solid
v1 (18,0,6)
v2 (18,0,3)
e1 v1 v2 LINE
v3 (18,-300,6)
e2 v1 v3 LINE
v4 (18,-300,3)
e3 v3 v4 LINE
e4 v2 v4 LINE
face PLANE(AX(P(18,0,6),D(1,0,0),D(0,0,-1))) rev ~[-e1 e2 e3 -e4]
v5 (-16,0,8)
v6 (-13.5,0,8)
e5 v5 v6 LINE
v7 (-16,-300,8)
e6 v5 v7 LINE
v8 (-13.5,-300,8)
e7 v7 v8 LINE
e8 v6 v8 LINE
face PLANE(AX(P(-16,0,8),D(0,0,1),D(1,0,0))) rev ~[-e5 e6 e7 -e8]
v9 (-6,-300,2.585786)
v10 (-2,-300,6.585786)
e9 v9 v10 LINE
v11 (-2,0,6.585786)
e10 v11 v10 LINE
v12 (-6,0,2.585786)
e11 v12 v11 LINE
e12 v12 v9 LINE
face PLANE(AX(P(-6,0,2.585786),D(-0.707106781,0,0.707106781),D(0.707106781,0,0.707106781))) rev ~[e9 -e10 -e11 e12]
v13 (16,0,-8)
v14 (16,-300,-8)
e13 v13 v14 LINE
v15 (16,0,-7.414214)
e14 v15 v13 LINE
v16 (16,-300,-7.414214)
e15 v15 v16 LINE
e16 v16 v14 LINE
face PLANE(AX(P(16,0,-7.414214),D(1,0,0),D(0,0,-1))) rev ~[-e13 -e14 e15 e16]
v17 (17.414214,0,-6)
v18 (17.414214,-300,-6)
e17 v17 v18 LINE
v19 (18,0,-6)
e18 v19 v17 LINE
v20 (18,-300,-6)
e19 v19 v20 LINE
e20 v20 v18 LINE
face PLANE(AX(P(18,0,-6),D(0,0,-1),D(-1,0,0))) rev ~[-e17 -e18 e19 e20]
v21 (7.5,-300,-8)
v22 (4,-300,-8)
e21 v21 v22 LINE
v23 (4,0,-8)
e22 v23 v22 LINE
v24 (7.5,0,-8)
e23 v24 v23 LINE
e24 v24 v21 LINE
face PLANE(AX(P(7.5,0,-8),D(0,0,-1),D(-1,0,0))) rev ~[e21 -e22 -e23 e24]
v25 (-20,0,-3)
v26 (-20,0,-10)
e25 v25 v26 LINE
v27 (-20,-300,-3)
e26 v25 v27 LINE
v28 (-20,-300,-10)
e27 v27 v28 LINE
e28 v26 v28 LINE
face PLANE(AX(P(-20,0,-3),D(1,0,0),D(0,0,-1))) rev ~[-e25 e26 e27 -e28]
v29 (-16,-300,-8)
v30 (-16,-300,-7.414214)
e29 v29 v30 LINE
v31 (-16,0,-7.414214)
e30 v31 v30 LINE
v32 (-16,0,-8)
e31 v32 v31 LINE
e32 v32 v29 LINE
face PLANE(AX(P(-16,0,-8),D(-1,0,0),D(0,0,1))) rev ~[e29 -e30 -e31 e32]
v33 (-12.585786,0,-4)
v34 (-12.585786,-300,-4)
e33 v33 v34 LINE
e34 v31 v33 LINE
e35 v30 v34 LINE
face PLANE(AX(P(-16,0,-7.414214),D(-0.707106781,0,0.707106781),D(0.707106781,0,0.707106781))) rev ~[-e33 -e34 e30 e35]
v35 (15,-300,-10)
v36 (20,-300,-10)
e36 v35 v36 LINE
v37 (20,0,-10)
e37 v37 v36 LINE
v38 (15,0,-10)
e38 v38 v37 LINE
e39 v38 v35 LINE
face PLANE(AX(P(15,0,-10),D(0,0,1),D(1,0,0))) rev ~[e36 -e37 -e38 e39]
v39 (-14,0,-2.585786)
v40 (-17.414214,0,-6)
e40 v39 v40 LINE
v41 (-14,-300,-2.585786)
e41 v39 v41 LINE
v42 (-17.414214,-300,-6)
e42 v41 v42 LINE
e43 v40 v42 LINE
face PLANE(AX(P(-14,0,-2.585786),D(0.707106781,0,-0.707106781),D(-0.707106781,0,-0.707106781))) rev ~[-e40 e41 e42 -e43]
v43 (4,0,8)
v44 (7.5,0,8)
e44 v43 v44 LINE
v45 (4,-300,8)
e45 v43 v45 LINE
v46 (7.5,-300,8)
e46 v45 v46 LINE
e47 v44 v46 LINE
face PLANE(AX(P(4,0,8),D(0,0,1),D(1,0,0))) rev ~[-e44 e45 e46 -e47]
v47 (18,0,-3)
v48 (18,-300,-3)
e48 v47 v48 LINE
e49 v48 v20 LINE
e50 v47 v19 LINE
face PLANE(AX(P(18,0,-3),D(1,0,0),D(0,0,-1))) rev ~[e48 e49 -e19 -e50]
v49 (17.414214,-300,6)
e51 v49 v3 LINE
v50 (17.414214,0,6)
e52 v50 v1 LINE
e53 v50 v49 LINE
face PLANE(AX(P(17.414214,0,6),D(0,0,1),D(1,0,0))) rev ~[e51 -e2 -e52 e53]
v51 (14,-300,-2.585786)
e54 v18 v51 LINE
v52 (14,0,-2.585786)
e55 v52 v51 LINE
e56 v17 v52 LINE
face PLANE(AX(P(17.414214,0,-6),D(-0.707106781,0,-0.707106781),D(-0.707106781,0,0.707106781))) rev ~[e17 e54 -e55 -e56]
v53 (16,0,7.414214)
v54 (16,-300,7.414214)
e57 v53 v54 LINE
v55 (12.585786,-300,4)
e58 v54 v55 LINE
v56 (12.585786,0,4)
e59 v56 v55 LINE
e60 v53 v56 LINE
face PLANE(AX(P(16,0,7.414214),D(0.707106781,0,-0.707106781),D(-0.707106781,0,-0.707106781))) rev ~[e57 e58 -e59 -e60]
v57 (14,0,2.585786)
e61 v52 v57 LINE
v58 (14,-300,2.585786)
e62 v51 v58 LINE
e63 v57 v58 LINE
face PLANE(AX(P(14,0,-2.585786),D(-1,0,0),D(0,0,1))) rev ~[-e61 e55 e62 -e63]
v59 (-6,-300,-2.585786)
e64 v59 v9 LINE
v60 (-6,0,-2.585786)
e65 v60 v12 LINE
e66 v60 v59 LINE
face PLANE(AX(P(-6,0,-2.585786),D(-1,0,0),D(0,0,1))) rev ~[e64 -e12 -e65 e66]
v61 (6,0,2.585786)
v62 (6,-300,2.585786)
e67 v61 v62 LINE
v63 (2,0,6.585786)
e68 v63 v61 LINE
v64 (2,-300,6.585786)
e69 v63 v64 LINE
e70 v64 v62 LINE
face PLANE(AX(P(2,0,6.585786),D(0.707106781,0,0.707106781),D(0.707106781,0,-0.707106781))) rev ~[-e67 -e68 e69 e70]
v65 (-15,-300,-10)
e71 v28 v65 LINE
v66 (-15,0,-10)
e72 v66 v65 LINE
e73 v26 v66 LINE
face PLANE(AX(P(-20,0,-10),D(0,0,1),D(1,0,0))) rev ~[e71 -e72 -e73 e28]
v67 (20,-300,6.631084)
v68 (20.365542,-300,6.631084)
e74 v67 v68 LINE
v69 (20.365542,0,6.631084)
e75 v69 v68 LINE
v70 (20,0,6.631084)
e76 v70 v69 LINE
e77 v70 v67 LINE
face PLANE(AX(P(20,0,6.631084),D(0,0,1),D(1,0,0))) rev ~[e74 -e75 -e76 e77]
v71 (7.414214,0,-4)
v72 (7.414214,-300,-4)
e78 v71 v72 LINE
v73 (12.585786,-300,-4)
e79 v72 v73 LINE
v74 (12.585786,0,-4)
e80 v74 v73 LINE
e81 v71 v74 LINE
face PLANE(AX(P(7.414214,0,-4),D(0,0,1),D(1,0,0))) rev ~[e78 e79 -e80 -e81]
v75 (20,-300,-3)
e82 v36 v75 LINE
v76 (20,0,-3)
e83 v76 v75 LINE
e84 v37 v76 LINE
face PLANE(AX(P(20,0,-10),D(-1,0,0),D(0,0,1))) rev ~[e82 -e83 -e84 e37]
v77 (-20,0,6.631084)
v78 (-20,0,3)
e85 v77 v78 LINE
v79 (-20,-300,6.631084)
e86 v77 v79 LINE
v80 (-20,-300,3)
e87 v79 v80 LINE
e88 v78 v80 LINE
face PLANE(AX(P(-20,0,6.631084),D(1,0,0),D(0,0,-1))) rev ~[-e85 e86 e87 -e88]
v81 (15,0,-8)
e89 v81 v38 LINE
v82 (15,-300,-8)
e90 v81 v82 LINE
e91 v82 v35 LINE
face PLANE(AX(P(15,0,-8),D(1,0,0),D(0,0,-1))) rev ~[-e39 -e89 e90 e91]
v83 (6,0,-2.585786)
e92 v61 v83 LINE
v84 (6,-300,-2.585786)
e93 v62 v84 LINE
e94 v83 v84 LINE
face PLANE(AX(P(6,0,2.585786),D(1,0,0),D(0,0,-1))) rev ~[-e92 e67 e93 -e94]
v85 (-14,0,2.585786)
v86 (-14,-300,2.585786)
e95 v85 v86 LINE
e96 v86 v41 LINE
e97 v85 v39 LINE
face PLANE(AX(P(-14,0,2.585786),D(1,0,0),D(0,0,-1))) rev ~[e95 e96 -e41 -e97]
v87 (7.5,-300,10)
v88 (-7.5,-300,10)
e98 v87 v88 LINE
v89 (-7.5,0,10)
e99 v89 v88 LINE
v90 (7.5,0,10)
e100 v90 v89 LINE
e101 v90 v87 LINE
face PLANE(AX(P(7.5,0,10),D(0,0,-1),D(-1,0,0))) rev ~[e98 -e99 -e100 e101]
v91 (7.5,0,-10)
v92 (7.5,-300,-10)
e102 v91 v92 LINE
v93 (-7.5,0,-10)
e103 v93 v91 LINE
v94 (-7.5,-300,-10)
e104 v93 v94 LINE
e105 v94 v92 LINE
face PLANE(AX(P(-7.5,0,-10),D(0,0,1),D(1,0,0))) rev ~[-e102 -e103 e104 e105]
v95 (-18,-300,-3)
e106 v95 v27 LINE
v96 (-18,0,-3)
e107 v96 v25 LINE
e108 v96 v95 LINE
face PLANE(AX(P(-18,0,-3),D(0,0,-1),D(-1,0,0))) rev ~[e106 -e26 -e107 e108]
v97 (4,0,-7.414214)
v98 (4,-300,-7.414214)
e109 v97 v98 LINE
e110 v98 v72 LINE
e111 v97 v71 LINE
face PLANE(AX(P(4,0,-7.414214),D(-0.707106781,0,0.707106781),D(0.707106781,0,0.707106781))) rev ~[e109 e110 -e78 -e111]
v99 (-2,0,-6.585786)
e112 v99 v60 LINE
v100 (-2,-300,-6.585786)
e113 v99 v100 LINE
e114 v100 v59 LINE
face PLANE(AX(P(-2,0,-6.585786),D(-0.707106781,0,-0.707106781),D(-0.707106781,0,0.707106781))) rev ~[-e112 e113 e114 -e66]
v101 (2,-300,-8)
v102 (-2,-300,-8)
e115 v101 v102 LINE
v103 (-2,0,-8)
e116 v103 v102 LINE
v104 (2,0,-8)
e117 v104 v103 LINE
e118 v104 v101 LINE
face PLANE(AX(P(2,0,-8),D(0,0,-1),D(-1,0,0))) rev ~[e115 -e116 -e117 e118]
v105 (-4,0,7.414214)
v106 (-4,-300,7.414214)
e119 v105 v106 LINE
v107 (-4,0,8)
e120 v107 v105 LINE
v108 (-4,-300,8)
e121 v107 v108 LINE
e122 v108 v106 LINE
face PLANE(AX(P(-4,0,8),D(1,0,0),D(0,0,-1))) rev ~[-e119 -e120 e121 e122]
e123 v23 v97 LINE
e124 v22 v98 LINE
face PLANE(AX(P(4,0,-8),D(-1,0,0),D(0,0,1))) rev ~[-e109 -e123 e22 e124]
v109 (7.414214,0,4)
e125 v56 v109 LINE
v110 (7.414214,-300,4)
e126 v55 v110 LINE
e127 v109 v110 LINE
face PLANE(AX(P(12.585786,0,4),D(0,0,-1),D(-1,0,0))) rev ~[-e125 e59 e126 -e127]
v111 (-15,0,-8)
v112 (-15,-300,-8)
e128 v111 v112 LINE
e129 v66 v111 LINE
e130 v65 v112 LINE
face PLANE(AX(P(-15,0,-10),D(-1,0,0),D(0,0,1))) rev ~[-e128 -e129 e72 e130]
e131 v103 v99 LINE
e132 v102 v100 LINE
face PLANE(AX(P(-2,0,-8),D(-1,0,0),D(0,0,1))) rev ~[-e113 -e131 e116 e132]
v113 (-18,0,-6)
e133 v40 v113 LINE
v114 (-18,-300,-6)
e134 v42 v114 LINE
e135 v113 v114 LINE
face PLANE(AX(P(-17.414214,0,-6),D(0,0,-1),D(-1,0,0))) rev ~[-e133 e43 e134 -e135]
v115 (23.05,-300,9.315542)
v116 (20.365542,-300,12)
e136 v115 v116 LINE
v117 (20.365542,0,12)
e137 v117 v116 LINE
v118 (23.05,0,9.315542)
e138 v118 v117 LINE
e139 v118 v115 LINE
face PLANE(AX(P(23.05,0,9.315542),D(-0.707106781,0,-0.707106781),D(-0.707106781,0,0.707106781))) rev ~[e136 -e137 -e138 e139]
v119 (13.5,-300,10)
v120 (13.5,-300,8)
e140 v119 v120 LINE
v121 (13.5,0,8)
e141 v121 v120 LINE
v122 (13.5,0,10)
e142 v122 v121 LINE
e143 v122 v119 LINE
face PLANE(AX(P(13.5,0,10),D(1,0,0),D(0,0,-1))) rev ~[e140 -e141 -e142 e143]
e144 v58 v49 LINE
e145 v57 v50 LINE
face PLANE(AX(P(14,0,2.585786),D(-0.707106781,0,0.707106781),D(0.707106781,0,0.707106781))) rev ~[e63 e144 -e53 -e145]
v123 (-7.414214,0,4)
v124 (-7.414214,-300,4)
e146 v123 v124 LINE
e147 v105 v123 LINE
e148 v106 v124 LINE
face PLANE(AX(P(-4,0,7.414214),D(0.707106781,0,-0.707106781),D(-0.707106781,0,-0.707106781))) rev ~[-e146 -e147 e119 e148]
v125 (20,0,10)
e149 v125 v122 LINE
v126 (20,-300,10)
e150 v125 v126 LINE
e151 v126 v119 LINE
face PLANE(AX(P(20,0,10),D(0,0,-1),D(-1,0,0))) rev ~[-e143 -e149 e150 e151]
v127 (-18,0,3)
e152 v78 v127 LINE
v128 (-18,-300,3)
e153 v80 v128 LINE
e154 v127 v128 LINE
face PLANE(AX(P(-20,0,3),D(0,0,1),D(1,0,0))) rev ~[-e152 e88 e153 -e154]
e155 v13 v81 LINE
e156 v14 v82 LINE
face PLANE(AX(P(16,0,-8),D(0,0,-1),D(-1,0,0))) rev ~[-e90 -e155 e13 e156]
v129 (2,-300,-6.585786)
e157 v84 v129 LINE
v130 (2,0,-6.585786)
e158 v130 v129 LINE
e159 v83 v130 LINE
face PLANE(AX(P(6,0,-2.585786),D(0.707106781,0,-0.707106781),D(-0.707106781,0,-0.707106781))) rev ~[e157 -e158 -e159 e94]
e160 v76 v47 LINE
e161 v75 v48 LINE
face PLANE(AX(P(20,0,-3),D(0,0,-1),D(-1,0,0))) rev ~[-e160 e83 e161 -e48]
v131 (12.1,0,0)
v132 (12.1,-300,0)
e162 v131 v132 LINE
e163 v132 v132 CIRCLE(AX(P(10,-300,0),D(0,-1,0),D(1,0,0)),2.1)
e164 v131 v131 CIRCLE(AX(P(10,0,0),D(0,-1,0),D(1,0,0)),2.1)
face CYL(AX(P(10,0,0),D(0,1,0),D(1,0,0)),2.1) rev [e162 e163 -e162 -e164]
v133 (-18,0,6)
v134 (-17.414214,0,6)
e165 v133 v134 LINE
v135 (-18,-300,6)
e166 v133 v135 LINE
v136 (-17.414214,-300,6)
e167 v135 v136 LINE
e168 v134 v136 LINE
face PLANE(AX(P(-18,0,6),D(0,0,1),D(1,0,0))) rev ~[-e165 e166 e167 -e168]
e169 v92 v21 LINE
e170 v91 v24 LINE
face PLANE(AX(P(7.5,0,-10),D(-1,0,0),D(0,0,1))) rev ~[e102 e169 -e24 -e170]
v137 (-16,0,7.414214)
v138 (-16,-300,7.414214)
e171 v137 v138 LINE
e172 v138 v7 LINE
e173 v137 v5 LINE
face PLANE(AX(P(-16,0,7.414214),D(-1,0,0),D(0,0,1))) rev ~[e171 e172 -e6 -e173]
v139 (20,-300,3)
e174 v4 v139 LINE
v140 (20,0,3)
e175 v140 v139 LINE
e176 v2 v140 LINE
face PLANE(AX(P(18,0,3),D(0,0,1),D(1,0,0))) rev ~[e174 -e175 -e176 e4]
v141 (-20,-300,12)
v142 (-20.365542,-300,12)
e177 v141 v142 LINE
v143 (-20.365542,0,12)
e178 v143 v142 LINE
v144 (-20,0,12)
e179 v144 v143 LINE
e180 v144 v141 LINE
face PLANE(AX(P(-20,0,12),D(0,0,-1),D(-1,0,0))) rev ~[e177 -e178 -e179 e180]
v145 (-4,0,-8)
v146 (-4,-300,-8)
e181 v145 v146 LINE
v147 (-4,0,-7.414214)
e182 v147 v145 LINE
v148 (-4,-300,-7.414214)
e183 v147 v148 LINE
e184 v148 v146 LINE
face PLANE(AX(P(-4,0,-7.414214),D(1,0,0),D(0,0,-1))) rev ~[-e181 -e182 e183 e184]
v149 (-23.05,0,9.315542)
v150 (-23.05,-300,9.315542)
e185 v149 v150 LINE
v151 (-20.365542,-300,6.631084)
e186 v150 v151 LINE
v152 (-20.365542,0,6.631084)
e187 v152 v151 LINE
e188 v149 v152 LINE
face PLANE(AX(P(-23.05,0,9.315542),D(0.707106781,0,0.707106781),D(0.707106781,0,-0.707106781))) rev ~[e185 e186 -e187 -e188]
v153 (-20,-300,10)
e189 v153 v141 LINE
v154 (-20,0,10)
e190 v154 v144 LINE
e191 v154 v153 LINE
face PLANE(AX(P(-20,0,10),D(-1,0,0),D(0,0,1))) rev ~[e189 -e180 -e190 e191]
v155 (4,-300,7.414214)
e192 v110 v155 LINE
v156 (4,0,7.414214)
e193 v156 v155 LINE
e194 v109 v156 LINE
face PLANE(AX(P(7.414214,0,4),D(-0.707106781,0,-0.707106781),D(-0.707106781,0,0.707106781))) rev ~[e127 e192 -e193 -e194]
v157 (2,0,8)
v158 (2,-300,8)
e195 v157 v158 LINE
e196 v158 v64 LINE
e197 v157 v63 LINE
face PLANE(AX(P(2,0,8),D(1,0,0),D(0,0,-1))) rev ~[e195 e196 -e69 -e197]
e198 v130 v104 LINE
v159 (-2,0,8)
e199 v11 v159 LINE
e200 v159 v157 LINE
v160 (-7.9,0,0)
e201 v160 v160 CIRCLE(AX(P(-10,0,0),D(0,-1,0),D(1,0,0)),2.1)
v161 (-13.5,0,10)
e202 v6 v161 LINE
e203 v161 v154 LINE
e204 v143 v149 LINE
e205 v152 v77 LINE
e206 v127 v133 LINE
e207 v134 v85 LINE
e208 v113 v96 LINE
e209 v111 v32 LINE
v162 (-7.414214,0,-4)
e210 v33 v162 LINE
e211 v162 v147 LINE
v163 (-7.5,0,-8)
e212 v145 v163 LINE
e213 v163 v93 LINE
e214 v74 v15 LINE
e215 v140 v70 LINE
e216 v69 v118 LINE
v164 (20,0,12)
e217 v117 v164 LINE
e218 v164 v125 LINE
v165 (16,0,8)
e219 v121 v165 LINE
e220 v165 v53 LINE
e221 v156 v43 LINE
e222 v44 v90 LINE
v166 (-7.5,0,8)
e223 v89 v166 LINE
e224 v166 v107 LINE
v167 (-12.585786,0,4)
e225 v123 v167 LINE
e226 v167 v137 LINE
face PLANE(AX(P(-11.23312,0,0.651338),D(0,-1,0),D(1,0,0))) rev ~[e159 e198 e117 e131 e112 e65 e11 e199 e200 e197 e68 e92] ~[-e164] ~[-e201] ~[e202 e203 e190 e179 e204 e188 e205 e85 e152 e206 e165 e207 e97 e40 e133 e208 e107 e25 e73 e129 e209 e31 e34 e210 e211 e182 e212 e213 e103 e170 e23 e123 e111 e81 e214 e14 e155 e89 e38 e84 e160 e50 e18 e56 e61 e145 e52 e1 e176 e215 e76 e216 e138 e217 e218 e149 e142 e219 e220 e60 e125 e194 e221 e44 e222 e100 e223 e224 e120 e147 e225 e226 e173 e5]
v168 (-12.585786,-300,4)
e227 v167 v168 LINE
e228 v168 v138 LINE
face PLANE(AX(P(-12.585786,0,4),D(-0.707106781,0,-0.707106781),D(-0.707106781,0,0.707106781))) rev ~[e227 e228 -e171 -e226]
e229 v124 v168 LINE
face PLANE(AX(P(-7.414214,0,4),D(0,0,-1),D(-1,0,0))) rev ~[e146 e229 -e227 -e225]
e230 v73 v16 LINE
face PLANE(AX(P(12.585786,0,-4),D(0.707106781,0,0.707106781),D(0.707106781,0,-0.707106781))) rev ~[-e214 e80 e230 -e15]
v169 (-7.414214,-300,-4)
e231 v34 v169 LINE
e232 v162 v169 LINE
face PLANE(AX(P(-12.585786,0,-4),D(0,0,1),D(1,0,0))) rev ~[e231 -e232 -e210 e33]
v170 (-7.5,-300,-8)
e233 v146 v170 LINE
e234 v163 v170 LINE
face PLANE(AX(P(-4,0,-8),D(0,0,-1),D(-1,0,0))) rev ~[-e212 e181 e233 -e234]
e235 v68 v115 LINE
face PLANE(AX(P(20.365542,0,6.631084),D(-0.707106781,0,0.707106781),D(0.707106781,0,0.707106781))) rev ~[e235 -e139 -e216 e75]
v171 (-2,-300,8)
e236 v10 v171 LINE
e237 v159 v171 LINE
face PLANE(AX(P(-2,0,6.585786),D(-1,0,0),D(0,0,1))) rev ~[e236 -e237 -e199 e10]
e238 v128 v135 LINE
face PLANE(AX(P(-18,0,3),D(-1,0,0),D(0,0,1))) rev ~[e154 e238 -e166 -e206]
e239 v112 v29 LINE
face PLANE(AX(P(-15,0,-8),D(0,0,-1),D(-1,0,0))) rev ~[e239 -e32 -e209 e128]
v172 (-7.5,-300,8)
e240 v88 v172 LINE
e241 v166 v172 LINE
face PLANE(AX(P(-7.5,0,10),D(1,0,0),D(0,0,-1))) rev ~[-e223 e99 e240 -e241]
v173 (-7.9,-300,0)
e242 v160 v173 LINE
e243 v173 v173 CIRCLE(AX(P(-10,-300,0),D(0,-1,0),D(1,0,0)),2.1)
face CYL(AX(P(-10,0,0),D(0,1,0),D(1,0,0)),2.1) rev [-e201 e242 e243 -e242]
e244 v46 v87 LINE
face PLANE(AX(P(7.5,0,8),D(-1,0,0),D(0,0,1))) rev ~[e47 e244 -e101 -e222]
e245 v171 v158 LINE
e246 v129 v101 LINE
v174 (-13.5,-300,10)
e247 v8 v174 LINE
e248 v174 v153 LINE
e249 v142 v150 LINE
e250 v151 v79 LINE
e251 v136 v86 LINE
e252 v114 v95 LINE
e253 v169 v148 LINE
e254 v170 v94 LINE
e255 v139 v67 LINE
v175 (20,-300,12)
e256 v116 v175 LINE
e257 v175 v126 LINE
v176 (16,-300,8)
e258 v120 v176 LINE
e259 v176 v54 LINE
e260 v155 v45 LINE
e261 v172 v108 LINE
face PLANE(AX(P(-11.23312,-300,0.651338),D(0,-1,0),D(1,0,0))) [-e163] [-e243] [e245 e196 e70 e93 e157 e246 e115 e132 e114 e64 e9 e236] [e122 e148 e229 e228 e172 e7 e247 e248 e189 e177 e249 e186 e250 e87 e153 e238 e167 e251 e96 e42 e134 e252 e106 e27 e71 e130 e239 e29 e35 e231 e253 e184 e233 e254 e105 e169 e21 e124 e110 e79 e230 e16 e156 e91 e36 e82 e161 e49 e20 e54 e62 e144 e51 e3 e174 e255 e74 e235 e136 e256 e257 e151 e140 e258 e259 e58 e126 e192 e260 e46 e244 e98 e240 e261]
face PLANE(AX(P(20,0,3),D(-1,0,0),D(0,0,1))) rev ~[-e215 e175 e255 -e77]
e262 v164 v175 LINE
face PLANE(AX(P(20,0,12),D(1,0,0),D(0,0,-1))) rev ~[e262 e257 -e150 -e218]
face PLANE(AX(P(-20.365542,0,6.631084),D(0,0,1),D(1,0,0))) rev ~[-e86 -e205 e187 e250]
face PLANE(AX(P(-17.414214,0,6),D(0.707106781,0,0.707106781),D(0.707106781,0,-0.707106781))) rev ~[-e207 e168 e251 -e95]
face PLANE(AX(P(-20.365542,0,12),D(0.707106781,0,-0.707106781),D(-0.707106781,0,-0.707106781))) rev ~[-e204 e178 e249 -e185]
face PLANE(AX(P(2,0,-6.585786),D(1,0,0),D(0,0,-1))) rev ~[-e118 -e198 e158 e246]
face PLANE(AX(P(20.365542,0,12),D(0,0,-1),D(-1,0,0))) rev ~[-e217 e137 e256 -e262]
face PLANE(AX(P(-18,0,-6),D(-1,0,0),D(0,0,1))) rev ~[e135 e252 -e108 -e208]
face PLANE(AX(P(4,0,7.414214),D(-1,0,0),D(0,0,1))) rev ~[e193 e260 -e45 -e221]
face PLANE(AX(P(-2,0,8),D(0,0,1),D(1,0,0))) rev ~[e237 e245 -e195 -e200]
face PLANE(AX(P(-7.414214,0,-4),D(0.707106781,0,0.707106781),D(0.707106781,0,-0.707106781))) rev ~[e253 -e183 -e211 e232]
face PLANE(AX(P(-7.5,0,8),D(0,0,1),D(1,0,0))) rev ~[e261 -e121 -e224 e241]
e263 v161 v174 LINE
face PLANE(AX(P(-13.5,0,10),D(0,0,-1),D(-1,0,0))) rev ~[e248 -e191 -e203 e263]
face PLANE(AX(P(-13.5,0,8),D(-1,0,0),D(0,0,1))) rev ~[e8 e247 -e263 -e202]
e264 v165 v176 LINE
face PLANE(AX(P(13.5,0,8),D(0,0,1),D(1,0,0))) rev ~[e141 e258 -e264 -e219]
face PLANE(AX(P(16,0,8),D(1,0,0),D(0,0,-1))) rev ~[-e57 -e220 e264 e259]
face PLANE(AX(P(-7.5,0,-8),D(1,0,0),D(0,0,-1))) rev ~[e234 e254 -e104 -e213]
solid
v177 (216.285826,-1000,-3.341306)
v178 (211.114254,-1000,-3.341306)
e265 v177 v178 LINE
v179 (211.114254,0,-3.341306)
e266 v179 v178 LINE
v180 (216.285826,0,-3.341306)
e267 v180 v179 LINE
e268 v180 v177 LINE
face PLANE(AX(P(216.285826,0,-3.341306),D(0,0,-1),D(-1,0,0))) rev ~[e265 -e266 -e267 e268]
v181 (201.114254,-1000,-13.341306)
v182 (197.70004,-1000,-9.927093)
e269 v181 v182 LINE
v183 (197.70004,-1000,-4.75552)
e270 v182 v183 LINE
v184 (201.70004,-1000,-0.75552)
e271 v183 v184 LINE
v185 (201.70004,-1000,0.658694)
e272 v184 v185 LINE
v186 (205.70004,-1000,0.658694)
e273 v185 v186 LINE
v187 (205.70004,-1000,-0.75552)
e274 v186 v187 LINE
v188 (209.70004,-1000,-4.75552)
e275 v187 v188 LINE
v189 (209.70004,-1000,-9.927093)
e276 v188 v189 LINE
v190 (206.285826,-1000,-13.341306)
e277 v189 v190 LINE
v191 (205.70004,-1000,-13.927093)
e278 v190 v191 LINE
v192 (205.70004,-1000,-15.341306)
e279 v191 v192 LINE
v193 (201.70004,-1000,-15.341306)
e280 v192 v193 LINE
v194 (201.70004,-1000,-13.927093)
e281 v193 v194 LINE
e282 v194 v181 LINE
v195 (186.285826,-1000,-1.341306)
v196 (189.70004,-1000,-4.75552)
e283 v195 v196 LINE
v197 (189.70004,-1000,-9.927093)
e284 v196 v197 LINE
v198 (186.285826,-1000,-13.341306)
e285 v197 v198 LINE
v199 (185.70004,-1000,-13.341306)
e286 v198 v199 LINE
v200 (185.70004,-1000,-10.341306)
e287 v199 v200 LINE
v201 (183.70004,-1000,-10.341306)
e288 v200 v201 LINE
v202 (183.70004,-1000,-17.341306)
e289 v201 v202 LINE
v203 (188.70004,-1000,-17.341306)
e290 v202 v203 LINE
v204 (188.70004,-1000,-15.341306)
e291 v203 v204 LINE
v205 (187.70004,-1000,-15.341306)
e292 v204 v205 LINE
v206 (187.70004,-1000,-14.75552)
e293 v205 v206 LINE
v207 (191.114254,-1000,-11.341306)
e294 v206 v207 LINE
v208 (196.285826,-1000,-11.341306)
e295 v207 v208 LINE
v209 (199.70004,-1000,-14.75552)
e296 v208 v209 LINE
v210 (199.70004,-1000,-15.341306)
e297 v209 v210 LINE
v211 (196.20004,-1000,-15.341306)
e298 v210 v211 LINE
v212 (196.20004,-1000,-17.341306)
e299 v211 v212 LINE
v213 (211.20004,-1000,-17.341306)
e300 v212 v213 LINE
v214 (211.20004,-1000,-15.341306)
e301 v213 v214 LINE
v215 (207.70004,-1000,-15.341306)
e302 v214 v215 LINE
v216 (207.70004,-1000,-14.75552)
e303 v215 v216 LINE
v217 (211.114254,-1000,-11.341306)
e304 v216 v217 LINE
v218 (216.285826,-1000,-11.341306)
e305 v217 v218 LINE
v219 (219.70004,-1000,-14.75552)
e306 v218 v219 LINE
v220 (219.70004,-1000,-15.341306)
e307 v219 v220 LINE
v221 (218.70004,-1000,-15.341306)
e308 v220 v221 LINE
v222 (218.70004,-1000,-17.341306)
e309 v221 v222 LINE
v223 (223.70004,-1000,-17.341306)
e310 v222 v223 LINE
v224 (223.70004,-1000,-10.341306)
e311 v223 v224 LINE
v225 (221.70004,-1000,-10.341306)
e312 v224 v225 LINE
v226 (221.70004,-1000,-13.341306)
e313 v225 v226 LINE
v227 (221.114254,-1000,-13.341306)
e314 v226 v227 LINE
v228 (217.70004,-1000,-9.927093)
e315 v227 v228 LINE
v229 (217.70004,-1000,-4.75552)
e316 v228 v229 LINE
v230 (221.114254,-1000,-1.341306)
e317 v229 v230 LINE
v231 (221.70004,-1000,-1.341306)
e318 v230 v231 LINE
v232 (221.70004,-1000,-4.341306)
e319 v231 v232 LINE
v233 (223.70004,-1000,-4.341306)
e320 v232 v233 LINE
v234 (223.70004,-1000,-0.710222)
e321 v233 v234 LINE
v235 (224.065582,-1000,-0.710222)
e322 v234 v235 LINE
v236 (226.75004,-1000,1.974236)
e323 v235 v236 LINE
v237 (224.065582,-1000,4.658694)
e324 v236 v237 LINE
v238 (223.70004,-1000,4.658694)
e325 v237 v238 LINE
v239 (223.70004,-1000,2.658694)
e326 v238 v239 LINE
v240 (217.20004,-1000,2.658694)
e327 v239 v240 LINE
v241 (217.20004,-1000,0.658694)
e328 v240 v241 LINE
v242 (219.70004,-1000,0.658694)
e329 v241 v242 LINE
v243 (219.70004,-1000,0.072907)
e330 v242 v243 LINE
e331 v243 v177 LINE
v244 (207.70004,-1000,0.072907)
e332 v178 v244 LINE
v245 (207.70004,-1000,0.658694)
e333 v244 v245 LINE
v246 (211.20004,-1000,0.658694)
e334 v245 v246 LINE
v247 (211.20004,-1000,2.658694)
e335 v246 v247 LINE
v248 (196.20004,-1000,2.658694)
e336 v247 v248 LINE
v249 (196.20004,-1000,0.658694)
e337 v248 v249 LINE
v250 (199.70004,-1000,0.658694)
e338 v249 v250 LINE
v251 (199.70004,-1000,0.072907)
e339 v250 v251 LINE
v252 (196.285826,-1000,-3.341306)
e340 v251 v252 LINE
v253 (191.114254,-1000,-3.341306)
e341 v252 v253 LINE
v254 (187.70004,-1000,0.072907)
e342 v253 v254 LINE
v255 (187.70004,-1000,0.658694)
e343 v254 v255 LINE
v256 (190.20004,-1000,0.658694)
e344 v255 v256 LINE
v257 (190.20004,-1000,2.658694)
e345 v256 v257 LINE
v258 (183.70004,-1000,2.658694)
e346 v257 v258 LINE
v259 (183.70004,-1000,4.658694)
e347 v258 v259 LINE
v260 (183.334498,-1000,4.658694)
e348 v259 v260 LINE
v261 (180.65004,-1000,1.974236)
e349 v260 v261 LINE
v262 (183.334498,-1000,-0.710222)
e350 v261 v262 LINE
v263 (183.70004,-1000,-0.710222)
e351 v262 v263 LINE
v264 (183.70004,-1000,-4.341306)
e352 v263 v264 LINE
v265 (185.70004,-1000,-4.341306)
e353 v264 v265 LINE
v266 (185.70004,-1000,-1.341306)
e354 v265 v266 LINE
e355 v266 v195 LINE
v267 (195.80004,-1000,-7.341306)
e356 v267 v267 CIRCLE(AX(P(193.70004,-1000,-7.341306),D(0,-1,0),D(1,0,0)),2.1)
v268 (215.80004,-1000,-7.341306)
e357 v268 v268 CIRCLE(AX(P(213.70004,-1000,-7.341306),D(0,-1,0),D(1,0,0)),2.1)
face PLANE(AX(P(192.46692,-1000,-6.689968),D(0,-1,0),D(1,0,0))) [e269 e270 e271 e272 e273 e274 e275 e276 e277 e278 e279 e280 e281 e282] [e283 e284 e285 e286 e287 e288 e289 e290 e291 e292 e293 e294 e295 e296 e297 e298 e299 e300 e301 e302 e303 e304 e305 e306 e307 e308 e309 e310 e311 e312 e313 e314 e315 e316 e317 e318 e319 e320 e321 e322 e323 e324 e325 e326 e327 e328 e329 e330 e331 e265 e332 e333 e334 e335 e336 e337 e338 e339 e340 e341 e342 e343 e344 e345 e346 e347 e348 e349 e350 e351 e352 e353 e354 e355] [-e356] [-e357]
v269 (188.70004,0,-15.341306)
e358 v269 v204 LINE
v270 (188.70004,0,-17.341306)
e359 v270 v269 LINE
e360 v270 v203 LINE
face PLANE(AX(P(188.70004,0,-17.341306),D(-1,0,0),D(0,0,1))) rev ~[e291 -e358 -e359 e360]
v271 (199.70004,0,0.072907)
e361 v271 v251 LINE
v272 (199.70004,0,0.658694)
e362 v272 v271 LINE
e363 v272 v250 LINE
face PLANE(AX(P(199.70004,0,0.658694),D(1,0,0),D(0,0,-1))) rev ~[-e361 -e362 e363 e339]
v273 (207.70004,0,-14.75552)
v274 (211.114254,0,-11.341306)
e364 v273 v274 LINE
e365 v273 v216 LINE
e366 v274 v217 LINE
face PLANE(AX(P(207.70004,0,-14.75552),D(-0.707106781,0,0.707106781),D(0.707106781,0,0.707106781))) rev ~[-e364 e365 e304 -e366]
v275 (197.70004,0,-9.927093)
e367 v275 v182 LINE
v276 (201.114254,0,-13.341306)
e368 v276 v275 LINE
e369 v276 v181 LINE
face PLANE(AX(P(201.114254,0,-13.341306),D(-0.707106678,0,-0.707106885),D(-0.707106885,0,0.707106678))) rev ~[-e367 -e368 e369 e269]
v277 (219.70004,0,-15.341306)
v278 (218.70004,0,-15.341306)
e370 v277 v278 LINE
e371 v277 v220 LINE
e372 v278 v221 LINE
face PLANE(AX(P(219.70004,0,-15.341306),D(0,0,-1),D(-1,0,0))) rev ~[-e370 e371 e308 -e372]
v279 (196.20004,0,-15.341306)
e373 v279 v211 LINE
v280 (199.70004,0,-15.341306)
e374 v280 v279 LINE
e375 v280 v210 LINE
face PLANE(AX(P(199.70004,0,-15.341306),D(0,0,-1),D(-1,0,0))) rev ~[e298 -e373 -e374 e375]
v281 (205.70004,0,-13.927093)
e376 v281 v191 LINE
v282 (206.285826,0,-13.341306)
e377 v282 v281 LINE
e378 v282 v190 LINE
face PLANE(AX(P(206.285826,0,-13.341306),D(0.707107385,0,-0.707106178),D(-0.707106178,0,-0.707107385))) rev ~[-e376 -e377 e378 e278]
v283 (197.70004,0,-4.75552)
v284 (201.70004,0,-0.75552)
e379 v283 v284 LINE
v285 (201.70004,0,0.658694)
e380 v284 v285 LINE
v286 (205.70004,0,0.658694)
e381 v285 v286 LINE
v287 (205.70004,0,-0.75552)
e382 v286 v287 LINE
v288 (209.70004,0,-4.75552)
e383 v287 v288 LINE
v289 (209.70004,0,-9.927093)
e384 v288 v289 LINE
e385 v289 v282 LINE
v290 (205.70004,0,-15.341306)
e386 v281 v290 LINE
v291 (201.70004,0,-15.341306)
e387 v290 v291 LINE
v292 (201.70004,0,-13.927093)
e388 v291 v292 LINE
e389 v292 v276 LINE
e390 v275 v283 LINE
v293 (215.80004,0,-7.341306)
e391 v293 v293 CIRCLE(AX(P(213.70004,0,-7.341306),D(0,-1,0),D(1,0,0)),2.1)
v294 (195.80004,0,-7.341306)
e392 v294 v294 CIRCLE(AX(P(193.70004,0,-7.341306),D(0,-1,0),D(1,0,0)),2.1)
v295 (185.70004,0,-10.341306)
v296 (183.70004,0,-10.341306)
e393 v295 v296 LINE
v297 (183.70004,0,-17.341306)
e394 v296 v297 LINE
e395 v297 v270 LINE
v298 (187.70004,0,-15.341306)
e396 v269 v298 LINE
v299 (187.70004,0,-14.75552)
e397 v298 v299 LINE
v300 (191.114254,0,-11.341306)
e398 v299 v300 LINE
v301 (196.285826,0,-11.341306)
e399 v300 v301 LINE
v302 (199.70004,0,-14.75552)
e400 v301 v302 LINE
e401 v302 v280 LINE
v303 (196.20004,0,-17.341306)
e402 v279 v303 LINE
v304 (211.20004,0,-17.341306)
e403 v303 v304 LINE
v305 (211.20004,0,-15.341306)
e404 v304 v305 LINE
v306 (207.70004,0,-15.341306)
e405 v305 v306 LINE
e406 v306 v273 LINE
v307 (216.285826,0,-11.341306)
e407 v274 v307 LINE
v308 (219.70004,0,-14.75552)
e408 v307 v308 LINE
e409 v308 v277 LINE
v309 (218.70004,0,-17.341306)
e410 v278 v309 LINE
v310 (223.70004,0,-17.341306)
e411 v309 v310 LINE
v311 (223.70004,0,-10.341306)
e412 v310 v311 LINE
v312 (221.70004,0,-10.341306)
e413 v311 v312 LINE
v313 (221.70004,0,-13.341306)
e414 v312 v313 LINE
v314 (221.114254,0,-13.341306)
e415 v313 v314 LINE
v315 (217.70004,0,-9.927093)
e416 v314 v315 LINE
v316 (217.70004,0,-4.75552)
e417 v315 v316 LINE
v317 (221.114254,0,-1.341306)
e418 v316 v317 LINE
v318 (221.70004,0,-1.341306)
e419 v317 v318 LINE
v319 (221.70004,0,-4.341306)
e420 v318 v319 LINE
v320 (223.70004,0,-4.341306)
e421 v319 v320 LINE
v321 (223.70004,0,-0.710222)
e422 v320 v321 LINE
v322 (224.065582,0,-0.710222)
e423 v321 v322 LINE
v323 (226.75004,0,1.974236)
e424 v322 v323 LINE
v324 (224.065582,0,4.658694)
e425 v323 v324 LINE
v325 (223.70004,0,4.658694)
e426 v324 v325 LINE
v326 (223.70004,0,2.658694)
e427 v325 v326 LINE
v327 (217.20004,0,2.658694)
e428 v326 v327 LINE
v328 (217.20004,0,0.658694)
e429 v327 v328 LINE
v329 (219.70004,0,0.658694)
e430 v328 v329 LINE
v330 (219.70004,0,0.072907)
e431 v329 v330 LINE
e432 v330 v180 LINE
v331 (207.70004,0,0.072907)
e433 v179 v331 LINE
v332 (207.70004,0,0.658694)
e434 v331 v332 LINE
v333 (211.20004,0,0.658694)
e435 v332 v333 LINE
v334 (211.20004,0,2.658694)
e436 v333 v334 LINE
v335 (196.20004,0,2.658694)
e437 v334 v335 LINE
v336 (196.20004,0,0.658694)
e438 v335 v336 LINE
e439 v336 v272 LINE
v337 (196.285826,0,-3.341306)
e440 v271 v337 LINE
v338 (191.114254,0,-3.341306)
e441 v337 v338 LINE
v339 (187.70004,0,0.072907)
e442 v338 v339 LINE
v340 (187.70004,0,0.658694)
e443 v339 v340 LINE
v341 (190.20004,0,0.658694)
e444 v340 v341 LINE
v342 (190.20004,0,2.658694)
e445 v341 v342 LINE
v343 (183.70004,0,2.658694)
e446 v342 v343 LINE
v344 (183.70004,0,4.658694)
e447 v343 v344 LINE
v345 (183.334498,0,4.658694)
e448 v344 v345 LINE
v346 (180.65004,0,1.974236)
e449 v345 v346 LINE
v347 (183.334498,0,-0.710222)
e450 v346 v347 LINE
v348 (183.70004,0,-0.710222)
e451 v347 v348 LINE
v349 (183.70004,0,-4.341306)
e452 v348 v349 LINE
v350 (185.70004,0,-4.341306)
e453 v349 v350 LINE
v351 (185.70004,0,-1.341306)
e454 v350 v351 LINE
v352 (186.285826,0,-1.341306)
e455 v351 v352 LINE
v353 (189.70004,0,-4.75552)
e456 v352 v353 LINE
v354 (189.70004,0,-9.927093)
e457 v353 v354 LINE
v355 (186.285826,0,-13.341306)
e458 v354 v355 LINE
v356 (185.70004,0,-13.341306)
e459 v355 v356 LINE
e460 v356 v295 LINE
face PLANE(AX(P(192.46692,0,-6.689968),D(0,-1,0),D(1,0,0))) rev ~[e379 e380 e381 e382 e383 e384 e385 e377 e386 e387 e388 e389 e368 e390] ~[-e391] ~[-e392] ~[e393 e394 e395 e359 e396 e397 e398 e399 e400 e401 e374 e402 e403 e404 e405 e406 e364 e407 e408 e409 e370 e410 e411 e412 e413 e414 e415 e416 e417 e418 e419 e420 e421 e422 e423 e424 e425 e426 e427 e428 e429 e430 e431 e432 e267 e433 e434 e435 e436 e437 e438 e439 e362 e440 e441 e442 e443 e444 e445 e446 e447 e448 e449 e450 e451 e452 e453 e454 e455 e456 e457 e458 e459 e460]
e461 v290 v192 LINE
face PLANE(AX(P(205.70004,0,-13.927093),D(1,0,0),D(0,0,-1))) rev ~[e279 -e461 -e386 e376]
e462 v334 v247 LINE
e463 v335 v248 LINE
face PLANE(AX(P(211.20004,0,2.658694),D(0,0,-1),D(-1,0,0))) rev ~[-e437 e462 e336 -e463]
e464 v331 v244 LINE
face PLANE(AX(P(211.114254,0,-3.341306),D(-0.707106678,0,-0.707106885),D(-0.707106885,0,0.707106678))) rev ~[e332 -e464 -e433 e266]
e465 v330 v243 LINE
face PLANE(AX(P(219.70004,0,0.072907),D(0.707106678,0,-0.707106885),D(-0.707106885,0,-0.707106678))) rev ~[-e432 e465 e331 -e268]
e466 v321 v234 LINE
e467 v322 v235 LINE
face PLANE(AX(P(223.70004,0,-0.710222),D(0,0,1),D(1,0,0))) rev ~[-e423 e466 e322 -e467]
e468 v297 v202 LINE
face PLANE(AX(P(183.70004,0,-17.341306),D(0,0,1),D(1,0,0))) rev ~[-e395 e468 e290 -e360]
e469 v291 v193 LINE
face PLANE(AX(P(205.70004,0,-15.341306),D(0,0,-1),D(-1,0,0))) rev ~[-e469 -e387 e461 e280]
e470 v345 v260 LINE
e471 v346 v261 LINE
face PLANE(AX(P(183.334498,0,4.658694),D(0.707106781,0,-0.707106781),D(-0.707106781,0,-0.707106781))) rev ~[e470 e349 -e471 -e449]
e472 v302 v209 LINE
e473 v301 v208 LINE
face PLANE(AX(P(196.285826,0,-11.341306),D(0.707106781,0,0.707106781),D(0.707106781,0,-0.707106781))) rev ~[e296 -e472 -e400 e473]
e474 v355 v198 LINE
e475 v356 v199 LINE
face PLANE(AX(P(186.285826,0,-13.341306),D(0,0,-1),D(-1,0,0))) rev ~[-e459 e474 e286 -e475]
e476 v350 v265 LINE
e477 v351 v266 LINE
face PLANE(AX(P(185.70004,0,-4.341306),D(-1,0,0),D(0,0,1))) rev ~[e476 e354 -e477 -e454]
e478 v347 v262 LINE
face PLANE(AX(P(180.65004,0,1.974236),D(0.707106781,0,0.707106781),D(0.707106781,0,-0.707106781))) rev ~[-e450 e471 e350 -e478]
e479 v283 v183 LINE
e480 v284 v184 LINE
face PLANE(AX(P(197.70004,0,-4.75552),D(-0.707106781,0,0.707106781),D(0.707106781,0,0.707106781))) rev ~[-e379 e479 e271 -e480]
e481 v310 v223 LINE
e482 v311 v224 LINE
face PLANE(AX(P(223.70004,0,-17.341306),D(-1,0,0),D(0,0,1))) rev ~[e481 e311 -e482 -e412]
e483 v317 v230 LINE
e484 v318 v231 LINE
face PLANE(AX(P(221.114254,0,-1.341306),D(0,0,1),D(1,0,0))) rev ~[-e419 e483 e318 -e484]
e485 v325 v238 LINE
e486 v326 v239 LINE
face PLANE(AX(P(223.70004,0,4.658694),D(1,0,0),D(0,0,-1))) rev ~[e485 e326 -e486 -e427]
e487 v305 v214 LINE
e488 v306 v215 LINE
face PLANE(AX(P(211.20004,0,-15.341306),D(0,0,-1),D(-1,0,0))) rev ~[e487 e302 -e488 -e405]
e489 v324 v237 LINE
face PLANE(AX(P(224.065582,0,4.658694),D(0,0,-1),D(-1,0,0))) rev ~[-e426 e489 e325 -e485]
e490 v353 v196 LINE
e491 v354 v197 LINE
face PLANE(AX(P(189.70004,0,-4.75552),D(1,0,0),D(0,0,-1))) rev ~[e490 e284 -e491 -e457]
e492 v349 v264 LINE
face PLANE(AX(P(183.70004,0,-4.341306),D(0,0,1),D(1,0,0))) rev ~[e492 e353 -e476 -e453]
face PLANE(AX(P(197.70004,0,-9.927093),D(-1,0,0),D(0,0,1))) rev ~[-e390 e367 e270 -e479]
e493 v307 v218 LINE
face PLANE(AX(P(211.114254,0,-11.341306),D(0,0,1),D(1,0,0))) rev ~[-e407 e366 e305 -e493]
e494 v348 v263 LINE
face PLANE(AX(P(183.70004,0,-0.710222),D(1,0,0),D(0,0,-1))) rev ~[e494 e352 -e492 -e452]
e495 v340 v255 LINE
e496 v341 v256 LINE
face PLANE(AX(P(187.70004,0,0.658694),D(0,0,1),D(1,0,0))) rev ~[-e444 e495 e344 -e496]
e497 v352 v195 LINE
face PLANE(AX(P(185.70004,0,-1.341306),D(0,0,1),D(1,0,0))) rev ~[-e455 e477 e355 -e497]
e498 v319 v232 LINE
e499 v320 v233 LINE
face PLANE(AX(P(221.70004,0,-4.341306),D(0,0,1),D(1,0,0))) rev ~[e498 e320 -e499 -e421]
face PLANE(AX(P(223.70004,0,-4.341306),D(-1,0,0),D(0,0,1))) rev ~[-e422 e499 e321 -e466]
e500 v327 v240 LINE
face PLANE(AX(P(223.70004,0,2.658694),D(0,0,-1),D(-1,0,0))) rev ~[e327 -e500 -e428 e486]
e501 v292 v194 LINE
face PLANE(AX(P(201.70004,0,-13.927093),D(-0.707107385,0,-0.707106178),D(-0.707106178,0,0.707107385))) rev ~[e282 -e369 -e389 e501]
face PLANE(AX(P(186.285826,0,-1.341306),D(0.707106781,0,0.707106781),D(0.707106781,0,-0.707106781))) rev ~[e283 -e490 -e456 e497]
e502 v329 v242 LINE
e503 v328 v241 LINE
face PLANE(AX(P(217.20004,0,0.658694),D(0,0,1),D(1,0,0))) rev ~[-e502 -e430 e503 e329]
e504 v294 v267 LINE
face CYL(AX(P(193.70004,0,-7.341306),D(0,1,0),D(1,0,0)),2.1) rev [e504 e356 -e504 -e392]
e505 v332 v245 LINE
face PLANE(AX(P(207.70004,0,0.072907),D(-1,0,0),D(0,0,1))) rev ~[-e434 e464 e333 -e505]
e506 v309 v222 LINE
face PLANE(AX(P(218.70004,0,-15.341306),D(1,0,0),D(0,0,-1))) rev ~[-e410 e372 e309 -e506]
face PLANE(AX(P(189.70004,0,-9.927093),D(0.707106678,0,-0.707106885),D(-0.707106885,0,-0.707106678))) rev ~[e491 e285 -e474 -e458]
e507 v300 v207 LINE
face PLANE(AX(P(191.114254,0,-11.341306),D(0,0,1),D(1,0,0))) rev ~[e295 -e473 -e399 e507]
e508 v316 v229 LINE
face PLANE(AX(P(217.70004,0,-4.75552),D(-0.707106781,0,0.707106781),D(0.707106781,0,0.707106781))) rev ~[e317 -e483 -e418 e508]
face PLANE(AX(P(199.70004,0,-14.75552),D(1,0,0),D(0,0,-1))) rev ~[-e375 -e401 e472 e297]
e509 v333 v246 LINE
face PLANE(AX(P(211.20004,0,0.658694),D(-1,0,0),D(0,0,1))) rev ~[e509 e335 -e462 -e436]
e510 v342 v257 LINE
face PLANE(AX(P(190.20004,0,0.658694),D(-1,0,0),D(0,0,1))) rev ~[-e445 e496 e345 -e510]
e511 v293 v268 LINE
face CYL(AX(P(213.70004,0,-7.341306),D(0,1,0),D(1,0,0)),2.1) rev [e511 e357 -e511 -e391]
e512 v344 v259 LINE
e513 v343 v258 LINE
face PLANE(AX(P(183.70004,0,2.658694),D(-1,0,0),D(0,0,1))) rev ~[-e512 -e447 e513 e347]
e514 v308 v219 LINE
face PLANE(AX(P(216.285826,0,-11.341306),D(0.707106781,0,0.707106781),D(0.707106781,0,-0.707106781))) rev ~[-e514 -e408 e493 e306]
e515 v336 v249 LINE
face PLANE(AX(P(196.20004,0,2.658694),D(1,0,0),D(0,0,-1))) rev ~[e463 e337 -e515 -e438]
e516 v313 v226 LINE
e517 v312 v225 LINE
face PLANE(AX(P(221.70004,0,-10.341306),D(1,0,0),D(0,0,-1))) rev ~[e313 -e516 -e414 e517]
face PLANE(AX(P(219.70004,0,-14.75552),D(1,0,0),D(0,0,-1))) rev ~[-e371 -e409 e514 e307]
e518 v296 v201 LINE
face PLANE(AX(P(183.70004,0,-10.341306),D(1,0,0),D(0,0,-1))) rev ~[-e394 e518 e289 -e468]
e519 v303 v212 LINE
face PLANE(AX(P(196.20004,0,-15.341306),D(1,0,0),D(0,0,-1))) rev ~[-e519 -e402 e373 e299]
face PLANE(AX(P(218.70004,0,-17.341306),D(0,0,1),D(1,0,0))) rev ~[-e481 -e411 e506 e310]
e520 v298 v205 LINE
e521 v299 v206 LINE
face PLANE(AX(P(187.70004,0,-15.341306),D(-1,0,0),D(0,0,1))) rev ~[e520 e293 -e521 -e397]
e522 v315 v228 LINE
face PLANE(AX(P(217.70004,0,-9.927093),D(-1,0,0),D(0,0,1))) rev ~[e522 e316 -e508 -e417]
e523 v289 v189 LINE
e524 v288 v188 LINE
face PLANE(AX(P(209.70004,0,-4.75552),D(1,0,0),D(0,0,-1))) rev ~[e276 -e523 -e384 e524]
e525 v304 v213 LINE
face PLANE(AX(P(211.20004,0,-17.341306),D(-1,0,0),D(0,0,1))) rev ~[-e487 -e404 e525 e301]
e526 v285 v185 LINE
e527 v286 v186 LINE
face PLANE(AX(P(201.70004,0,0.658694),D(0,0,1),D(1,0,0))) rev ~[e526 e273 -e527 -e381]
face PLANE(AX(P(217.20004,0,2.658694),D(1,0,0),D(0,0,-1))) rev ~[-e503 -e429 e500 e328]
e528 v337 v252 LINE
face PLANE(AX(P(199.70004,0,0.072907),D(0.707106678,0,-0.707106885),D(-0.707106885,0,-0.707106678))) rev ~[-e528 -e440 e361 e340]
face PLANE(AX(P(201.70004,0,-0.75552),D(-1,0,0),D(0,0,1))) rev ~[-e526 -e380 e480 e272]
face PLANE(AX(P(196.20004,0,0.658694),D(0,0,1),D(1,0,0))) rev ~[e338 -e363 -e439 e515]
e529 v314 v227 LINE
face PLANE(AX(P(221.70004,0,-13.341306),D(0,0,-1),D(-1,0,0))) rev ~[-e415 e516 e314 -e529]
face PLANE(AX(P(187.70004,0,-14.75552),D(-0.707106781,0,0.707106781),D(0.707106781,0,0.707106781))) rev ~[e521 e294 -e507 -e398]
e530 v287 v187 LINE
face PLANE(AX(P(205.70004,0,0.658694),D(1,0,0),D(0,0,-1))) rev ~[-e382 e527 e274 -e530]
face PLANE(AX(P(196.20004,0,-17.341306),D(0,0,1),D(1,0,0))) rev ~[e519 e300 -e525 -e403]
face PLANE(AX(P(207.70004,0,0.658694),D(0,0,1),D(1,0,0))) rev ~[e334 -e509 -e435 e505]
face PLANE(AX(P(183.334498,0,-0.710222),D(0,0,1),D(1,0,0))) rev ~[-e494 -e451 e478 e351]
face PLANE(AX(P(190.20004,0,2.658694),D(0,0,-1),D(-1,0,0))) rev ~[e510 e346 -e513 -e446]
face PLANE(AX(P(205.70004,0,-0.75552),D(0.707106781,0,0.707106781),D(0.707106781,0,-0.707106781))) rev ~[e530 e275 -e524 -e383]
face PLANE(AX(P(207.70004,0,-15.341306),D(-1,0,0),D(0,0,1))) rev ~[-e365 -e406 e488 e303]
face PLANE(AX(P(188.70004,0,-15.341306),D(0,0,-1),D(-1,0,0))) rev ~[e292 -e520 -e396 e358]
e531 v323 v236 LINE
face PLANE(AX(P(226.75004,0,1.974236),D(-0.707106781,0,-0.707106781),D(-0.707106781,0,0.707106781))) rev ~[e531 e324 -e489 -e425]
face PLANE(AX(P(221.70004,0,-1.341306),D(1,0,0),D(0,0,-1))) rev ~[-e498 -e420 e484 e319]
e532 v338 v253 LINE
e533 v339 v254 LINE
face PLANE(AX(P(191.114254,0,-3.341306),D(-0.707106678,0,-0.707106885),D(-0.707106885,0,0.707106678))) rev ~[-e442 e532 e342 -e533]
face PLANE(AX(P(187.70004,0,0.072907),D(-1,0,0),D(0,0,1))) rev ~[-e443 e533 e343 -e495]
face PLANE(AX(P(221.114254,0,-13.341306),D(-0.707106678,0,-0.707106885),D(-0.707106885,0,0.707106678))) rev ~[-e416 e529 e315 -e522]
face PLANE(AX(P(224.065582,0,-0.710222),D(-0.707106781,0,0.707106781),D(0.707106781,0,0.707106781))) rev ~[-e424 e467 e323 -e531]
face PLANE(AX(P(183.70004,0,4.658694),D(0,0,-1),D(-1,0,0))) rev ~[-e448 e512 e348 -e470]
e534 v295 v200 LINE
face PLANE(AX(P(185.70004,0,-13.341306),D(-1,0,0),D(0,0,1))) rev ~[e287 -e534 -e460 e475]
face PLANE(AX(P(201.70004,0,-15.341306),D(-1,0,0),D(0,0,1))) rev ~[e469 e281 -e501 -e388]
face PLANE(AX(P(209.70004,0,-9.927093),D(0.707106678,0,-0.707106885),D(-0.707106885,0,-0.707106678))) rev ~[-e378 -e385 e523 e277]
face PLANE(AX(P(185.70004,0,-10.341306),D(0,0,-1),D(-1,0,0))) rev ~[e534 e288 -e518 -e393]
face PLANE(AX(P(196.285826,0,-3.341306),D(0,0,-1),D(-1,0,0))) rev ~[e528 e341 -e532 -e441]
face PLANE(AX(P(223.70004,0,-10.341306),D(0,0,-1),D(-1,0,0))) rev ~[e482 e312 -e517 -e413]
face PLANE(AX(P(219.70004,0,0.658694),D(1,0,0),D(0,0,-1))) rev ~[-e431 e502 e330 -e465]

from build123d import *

# Parameters (mm, degrees)
F0_R     = 2.1
F1_DEPTH = 300
F2_R     = 2.1
F3_DEPTH = 1000


with BuildPart() as f1:
    # F0 (on Front) → F1 (new body)
    with BuildSketch(Plane.XZ):
        Polygon((-18, 10), (-20, 10), (-20, 12), (-20.365542, 12), (-23.05, 9.315542), (-20.365542, 6.631084), (-20, 6.631084), (-20, 6), (-20, 3), (-18, 3), (-18, 6), (-17.414214, 6), (-14, 2.585786), (-14, -2.585786), (-17.414214, -6), (-18, -6), (-18, -3), (-20, -3), (-20, -6), (-20, -8), (-20, -10), (-15, -10), (-15, -8), (-16, -8), (-16, -7.414214), (-12.585786, -4), (-7.414214, -4), (-4, -7.414214), (-4, -8), (-7.5, -8), (-7.5, -10), (-4, -10), (-2, -10), (0, -10), (0, -8), (-2, -8), (-2, -6.585786), (-2.585786, -6), (-6, -2.585786), (-6, 2.585786), (-2.585786, 6), (-2, 6.585786), (-2, 8), (0, 8), (0, 10), (-2, 10), (-4, 10), (-7.5, 10), (-7.5, 8), (-4, 8), (-4, 7.414214), (-7.414214, 4), (-12.585786, 4), (-16, 7.414214), (-16, 8), (-13.5, 8), (-13.5, 10), (-16, 10), align=None)
        with Locations((-10, 0)):
            Circle(F0_R, mode=Mode.SUBTRACT)
        Polygon((2, 10), (0, 10), (0, 8), (2, 8), (2, 6.585786), (2.585786, 6), (6, 2.585786), (6, -2.585786), (2.585786, -6), (2, -6.585786), (2, -8), (0, -8), (0, -10), (2, -10), (4, -10), (7.5, -10), (7.5, -8), (4, -8), (4, -7.414214), (7.414214, -4), (12.585786, -4), (16, -7.414214), (16, -8), (15, -8), (15, -10), (20, -10), (20, -8), (20, -6), (20, -3), (18, -3), (18, -6), (17.414214, -6), (14, -2.585786), (14, 2.585786), (17.414214, 6), (18, 6), (18, 3), (20, 3), (20, 6), (20, 6.631084), (20.365542, 6.631084), (23.05, 9.315542), (20.365542, 12), (20, 12), (20, 10), (18, 10), (16, 10), (13.5, 10), (13.5, 8), (16, 8), (16, 7.414214), (12.585786, 4), (7.414214, 4), (4, 7.414214), (4, 8), (7.5, 8), (7.5, 10), (4, 10), align=None)
        with Locations((10, 0)):
            Circle(F0_R, mode=Mode.SUBTRACT)
    extrude(amount=F1_DEPTH)


with BuildPart() as f3:
    # F2 (on Front) → F3 (new body)
    with BuildSketch(Plane.XZ):
        Polygon((185.70004, 2.658694), (183.70004, 2.658694), (183.70004, 4.658694), (183.334498, 4.658694), (180.65004, 1.974236), (183.334498, -0.710222), (183.70004, -0.710222), (183.70004, -1.341306), (183.70004, -4.341306), (185.70004, -4.341306), (185.70004, -1.341306), (186.285826, -1.341306), (189.70004, -4.75552), (189.70004, -9.927093), (186.285826, -13.341306), (185.70004, -13.341306), (185.70004, -10.341306), (183.70004, -10.341306), (183.70004, -13.341306), (183.70004, -15.341306), (183.70004, -17.341306), (188.70004, -17.341306), (188.70004, -15.341306), (187.70004, -15.341306), (187.70004, -14.75552), (191.114254, -11.341306), (196.285826, -11.341306), (199.70004, -14.75552), (199.70004, -15.341306), (196.20004, -15.341306), (196.20004, -17.341306), (199.70004, -17.341306), (201.70004, -17.341306), (203.70004, -17.341306), (203.70004, -15.341306), (201.70004, -15.341306), (201.70004, -13.927093), (201.114254, -13.341306), (197.70004, -9.927093), (197.70004, -4.75552), (201.114254, -1.341306), (201.70004, -0.75552), (201.70004, 0.658694), (203.70004, 0.658694), (203.70004, 2.658694), (201.70004, 2.658694), (199.70004, 2.658694), (196.20004, 2.658694), (196.20004, 0.658694), (199.70004, 0.658694), (199.70004, 0.072907), (196.285826, -3.341306), (191.114254, -3.341306), (187.70004, 0.072907), (187.70004, 0.658694), (190.20004, 0.658694), (190.20004, 2.658694), (187.70004, 2.658694), align=None)
        with Locations((193.70004, -7.341306)):
            Circle(F2_R, mode=Mode.SUBTRACT)
        Polygon((205.70004, 2.658694), (203.70004, 2.658694), (203.70004, 0.658694), (205.70004, 0.658694), (205.70004, -0.75552), (206.285826, -1.341306), (209.70004, -4.75552), (209.70004, -9.927093), (206.285826, -13.341306), (205.70004, -13.927093), (205.70004, -15.341306), (203.70004, -15.341306), (203.70004, -17.341306), (205.70004, -17.341306), (207.70004, -17.341306), (211.20004, -17.341306), (211.20004, -15.341306), (207.70004, -15.341306), (207.70004, -14.75552), (211.114254, -11.341306), (216.285826, -11.341306), (219.70004, -14.75552), (219.70004, -15.341306), (218.70004, -15.341306), (218.70004, -17.341306), (223.70004, -17.341306), (223.70004, -15.341306), (223.70004, -13.341306), (223.70004, -10.341306), (221.70004, -10.341306), (221.70004, -13.341306), (221.114254, -13.341306), (217.70004, -9.927093), (217.70004, -4.75552), (221.114254, -1.341306), (221.70004, -1.341306), (221.70004, -4.341306), (223.70004, -4.341306), (223.70004, -1.341306), (223.70004, -0.710222), (224.065582, -0.710222), (226.75004, 1.974236), (224.065582, 4.658694), (223.70004, 4.658694), (223.70004, 2.658694), (221.70004, 2.658694), (219.70004, 2.658694), (217.20004, 2.658694), (217.20004, 0.658694), (219.70004, 0.658694), (219.70004, 0.072907), (216.285826, -3.341306), (211.114254, -3.341306), (207.70004, 0.072907), (207.70004, 0.658694), (211.20004, 0.658694), (211.20004, 2.658694), (207.70004, 2.658694), align=None)
        with Locations((213.70004, -7.341306)):
            Circle(F2_R, mode=Mode.SUBTRACT)
    extrude(amount=F3_DEPTH)


solid = Compound([f1.part, f3.part])
